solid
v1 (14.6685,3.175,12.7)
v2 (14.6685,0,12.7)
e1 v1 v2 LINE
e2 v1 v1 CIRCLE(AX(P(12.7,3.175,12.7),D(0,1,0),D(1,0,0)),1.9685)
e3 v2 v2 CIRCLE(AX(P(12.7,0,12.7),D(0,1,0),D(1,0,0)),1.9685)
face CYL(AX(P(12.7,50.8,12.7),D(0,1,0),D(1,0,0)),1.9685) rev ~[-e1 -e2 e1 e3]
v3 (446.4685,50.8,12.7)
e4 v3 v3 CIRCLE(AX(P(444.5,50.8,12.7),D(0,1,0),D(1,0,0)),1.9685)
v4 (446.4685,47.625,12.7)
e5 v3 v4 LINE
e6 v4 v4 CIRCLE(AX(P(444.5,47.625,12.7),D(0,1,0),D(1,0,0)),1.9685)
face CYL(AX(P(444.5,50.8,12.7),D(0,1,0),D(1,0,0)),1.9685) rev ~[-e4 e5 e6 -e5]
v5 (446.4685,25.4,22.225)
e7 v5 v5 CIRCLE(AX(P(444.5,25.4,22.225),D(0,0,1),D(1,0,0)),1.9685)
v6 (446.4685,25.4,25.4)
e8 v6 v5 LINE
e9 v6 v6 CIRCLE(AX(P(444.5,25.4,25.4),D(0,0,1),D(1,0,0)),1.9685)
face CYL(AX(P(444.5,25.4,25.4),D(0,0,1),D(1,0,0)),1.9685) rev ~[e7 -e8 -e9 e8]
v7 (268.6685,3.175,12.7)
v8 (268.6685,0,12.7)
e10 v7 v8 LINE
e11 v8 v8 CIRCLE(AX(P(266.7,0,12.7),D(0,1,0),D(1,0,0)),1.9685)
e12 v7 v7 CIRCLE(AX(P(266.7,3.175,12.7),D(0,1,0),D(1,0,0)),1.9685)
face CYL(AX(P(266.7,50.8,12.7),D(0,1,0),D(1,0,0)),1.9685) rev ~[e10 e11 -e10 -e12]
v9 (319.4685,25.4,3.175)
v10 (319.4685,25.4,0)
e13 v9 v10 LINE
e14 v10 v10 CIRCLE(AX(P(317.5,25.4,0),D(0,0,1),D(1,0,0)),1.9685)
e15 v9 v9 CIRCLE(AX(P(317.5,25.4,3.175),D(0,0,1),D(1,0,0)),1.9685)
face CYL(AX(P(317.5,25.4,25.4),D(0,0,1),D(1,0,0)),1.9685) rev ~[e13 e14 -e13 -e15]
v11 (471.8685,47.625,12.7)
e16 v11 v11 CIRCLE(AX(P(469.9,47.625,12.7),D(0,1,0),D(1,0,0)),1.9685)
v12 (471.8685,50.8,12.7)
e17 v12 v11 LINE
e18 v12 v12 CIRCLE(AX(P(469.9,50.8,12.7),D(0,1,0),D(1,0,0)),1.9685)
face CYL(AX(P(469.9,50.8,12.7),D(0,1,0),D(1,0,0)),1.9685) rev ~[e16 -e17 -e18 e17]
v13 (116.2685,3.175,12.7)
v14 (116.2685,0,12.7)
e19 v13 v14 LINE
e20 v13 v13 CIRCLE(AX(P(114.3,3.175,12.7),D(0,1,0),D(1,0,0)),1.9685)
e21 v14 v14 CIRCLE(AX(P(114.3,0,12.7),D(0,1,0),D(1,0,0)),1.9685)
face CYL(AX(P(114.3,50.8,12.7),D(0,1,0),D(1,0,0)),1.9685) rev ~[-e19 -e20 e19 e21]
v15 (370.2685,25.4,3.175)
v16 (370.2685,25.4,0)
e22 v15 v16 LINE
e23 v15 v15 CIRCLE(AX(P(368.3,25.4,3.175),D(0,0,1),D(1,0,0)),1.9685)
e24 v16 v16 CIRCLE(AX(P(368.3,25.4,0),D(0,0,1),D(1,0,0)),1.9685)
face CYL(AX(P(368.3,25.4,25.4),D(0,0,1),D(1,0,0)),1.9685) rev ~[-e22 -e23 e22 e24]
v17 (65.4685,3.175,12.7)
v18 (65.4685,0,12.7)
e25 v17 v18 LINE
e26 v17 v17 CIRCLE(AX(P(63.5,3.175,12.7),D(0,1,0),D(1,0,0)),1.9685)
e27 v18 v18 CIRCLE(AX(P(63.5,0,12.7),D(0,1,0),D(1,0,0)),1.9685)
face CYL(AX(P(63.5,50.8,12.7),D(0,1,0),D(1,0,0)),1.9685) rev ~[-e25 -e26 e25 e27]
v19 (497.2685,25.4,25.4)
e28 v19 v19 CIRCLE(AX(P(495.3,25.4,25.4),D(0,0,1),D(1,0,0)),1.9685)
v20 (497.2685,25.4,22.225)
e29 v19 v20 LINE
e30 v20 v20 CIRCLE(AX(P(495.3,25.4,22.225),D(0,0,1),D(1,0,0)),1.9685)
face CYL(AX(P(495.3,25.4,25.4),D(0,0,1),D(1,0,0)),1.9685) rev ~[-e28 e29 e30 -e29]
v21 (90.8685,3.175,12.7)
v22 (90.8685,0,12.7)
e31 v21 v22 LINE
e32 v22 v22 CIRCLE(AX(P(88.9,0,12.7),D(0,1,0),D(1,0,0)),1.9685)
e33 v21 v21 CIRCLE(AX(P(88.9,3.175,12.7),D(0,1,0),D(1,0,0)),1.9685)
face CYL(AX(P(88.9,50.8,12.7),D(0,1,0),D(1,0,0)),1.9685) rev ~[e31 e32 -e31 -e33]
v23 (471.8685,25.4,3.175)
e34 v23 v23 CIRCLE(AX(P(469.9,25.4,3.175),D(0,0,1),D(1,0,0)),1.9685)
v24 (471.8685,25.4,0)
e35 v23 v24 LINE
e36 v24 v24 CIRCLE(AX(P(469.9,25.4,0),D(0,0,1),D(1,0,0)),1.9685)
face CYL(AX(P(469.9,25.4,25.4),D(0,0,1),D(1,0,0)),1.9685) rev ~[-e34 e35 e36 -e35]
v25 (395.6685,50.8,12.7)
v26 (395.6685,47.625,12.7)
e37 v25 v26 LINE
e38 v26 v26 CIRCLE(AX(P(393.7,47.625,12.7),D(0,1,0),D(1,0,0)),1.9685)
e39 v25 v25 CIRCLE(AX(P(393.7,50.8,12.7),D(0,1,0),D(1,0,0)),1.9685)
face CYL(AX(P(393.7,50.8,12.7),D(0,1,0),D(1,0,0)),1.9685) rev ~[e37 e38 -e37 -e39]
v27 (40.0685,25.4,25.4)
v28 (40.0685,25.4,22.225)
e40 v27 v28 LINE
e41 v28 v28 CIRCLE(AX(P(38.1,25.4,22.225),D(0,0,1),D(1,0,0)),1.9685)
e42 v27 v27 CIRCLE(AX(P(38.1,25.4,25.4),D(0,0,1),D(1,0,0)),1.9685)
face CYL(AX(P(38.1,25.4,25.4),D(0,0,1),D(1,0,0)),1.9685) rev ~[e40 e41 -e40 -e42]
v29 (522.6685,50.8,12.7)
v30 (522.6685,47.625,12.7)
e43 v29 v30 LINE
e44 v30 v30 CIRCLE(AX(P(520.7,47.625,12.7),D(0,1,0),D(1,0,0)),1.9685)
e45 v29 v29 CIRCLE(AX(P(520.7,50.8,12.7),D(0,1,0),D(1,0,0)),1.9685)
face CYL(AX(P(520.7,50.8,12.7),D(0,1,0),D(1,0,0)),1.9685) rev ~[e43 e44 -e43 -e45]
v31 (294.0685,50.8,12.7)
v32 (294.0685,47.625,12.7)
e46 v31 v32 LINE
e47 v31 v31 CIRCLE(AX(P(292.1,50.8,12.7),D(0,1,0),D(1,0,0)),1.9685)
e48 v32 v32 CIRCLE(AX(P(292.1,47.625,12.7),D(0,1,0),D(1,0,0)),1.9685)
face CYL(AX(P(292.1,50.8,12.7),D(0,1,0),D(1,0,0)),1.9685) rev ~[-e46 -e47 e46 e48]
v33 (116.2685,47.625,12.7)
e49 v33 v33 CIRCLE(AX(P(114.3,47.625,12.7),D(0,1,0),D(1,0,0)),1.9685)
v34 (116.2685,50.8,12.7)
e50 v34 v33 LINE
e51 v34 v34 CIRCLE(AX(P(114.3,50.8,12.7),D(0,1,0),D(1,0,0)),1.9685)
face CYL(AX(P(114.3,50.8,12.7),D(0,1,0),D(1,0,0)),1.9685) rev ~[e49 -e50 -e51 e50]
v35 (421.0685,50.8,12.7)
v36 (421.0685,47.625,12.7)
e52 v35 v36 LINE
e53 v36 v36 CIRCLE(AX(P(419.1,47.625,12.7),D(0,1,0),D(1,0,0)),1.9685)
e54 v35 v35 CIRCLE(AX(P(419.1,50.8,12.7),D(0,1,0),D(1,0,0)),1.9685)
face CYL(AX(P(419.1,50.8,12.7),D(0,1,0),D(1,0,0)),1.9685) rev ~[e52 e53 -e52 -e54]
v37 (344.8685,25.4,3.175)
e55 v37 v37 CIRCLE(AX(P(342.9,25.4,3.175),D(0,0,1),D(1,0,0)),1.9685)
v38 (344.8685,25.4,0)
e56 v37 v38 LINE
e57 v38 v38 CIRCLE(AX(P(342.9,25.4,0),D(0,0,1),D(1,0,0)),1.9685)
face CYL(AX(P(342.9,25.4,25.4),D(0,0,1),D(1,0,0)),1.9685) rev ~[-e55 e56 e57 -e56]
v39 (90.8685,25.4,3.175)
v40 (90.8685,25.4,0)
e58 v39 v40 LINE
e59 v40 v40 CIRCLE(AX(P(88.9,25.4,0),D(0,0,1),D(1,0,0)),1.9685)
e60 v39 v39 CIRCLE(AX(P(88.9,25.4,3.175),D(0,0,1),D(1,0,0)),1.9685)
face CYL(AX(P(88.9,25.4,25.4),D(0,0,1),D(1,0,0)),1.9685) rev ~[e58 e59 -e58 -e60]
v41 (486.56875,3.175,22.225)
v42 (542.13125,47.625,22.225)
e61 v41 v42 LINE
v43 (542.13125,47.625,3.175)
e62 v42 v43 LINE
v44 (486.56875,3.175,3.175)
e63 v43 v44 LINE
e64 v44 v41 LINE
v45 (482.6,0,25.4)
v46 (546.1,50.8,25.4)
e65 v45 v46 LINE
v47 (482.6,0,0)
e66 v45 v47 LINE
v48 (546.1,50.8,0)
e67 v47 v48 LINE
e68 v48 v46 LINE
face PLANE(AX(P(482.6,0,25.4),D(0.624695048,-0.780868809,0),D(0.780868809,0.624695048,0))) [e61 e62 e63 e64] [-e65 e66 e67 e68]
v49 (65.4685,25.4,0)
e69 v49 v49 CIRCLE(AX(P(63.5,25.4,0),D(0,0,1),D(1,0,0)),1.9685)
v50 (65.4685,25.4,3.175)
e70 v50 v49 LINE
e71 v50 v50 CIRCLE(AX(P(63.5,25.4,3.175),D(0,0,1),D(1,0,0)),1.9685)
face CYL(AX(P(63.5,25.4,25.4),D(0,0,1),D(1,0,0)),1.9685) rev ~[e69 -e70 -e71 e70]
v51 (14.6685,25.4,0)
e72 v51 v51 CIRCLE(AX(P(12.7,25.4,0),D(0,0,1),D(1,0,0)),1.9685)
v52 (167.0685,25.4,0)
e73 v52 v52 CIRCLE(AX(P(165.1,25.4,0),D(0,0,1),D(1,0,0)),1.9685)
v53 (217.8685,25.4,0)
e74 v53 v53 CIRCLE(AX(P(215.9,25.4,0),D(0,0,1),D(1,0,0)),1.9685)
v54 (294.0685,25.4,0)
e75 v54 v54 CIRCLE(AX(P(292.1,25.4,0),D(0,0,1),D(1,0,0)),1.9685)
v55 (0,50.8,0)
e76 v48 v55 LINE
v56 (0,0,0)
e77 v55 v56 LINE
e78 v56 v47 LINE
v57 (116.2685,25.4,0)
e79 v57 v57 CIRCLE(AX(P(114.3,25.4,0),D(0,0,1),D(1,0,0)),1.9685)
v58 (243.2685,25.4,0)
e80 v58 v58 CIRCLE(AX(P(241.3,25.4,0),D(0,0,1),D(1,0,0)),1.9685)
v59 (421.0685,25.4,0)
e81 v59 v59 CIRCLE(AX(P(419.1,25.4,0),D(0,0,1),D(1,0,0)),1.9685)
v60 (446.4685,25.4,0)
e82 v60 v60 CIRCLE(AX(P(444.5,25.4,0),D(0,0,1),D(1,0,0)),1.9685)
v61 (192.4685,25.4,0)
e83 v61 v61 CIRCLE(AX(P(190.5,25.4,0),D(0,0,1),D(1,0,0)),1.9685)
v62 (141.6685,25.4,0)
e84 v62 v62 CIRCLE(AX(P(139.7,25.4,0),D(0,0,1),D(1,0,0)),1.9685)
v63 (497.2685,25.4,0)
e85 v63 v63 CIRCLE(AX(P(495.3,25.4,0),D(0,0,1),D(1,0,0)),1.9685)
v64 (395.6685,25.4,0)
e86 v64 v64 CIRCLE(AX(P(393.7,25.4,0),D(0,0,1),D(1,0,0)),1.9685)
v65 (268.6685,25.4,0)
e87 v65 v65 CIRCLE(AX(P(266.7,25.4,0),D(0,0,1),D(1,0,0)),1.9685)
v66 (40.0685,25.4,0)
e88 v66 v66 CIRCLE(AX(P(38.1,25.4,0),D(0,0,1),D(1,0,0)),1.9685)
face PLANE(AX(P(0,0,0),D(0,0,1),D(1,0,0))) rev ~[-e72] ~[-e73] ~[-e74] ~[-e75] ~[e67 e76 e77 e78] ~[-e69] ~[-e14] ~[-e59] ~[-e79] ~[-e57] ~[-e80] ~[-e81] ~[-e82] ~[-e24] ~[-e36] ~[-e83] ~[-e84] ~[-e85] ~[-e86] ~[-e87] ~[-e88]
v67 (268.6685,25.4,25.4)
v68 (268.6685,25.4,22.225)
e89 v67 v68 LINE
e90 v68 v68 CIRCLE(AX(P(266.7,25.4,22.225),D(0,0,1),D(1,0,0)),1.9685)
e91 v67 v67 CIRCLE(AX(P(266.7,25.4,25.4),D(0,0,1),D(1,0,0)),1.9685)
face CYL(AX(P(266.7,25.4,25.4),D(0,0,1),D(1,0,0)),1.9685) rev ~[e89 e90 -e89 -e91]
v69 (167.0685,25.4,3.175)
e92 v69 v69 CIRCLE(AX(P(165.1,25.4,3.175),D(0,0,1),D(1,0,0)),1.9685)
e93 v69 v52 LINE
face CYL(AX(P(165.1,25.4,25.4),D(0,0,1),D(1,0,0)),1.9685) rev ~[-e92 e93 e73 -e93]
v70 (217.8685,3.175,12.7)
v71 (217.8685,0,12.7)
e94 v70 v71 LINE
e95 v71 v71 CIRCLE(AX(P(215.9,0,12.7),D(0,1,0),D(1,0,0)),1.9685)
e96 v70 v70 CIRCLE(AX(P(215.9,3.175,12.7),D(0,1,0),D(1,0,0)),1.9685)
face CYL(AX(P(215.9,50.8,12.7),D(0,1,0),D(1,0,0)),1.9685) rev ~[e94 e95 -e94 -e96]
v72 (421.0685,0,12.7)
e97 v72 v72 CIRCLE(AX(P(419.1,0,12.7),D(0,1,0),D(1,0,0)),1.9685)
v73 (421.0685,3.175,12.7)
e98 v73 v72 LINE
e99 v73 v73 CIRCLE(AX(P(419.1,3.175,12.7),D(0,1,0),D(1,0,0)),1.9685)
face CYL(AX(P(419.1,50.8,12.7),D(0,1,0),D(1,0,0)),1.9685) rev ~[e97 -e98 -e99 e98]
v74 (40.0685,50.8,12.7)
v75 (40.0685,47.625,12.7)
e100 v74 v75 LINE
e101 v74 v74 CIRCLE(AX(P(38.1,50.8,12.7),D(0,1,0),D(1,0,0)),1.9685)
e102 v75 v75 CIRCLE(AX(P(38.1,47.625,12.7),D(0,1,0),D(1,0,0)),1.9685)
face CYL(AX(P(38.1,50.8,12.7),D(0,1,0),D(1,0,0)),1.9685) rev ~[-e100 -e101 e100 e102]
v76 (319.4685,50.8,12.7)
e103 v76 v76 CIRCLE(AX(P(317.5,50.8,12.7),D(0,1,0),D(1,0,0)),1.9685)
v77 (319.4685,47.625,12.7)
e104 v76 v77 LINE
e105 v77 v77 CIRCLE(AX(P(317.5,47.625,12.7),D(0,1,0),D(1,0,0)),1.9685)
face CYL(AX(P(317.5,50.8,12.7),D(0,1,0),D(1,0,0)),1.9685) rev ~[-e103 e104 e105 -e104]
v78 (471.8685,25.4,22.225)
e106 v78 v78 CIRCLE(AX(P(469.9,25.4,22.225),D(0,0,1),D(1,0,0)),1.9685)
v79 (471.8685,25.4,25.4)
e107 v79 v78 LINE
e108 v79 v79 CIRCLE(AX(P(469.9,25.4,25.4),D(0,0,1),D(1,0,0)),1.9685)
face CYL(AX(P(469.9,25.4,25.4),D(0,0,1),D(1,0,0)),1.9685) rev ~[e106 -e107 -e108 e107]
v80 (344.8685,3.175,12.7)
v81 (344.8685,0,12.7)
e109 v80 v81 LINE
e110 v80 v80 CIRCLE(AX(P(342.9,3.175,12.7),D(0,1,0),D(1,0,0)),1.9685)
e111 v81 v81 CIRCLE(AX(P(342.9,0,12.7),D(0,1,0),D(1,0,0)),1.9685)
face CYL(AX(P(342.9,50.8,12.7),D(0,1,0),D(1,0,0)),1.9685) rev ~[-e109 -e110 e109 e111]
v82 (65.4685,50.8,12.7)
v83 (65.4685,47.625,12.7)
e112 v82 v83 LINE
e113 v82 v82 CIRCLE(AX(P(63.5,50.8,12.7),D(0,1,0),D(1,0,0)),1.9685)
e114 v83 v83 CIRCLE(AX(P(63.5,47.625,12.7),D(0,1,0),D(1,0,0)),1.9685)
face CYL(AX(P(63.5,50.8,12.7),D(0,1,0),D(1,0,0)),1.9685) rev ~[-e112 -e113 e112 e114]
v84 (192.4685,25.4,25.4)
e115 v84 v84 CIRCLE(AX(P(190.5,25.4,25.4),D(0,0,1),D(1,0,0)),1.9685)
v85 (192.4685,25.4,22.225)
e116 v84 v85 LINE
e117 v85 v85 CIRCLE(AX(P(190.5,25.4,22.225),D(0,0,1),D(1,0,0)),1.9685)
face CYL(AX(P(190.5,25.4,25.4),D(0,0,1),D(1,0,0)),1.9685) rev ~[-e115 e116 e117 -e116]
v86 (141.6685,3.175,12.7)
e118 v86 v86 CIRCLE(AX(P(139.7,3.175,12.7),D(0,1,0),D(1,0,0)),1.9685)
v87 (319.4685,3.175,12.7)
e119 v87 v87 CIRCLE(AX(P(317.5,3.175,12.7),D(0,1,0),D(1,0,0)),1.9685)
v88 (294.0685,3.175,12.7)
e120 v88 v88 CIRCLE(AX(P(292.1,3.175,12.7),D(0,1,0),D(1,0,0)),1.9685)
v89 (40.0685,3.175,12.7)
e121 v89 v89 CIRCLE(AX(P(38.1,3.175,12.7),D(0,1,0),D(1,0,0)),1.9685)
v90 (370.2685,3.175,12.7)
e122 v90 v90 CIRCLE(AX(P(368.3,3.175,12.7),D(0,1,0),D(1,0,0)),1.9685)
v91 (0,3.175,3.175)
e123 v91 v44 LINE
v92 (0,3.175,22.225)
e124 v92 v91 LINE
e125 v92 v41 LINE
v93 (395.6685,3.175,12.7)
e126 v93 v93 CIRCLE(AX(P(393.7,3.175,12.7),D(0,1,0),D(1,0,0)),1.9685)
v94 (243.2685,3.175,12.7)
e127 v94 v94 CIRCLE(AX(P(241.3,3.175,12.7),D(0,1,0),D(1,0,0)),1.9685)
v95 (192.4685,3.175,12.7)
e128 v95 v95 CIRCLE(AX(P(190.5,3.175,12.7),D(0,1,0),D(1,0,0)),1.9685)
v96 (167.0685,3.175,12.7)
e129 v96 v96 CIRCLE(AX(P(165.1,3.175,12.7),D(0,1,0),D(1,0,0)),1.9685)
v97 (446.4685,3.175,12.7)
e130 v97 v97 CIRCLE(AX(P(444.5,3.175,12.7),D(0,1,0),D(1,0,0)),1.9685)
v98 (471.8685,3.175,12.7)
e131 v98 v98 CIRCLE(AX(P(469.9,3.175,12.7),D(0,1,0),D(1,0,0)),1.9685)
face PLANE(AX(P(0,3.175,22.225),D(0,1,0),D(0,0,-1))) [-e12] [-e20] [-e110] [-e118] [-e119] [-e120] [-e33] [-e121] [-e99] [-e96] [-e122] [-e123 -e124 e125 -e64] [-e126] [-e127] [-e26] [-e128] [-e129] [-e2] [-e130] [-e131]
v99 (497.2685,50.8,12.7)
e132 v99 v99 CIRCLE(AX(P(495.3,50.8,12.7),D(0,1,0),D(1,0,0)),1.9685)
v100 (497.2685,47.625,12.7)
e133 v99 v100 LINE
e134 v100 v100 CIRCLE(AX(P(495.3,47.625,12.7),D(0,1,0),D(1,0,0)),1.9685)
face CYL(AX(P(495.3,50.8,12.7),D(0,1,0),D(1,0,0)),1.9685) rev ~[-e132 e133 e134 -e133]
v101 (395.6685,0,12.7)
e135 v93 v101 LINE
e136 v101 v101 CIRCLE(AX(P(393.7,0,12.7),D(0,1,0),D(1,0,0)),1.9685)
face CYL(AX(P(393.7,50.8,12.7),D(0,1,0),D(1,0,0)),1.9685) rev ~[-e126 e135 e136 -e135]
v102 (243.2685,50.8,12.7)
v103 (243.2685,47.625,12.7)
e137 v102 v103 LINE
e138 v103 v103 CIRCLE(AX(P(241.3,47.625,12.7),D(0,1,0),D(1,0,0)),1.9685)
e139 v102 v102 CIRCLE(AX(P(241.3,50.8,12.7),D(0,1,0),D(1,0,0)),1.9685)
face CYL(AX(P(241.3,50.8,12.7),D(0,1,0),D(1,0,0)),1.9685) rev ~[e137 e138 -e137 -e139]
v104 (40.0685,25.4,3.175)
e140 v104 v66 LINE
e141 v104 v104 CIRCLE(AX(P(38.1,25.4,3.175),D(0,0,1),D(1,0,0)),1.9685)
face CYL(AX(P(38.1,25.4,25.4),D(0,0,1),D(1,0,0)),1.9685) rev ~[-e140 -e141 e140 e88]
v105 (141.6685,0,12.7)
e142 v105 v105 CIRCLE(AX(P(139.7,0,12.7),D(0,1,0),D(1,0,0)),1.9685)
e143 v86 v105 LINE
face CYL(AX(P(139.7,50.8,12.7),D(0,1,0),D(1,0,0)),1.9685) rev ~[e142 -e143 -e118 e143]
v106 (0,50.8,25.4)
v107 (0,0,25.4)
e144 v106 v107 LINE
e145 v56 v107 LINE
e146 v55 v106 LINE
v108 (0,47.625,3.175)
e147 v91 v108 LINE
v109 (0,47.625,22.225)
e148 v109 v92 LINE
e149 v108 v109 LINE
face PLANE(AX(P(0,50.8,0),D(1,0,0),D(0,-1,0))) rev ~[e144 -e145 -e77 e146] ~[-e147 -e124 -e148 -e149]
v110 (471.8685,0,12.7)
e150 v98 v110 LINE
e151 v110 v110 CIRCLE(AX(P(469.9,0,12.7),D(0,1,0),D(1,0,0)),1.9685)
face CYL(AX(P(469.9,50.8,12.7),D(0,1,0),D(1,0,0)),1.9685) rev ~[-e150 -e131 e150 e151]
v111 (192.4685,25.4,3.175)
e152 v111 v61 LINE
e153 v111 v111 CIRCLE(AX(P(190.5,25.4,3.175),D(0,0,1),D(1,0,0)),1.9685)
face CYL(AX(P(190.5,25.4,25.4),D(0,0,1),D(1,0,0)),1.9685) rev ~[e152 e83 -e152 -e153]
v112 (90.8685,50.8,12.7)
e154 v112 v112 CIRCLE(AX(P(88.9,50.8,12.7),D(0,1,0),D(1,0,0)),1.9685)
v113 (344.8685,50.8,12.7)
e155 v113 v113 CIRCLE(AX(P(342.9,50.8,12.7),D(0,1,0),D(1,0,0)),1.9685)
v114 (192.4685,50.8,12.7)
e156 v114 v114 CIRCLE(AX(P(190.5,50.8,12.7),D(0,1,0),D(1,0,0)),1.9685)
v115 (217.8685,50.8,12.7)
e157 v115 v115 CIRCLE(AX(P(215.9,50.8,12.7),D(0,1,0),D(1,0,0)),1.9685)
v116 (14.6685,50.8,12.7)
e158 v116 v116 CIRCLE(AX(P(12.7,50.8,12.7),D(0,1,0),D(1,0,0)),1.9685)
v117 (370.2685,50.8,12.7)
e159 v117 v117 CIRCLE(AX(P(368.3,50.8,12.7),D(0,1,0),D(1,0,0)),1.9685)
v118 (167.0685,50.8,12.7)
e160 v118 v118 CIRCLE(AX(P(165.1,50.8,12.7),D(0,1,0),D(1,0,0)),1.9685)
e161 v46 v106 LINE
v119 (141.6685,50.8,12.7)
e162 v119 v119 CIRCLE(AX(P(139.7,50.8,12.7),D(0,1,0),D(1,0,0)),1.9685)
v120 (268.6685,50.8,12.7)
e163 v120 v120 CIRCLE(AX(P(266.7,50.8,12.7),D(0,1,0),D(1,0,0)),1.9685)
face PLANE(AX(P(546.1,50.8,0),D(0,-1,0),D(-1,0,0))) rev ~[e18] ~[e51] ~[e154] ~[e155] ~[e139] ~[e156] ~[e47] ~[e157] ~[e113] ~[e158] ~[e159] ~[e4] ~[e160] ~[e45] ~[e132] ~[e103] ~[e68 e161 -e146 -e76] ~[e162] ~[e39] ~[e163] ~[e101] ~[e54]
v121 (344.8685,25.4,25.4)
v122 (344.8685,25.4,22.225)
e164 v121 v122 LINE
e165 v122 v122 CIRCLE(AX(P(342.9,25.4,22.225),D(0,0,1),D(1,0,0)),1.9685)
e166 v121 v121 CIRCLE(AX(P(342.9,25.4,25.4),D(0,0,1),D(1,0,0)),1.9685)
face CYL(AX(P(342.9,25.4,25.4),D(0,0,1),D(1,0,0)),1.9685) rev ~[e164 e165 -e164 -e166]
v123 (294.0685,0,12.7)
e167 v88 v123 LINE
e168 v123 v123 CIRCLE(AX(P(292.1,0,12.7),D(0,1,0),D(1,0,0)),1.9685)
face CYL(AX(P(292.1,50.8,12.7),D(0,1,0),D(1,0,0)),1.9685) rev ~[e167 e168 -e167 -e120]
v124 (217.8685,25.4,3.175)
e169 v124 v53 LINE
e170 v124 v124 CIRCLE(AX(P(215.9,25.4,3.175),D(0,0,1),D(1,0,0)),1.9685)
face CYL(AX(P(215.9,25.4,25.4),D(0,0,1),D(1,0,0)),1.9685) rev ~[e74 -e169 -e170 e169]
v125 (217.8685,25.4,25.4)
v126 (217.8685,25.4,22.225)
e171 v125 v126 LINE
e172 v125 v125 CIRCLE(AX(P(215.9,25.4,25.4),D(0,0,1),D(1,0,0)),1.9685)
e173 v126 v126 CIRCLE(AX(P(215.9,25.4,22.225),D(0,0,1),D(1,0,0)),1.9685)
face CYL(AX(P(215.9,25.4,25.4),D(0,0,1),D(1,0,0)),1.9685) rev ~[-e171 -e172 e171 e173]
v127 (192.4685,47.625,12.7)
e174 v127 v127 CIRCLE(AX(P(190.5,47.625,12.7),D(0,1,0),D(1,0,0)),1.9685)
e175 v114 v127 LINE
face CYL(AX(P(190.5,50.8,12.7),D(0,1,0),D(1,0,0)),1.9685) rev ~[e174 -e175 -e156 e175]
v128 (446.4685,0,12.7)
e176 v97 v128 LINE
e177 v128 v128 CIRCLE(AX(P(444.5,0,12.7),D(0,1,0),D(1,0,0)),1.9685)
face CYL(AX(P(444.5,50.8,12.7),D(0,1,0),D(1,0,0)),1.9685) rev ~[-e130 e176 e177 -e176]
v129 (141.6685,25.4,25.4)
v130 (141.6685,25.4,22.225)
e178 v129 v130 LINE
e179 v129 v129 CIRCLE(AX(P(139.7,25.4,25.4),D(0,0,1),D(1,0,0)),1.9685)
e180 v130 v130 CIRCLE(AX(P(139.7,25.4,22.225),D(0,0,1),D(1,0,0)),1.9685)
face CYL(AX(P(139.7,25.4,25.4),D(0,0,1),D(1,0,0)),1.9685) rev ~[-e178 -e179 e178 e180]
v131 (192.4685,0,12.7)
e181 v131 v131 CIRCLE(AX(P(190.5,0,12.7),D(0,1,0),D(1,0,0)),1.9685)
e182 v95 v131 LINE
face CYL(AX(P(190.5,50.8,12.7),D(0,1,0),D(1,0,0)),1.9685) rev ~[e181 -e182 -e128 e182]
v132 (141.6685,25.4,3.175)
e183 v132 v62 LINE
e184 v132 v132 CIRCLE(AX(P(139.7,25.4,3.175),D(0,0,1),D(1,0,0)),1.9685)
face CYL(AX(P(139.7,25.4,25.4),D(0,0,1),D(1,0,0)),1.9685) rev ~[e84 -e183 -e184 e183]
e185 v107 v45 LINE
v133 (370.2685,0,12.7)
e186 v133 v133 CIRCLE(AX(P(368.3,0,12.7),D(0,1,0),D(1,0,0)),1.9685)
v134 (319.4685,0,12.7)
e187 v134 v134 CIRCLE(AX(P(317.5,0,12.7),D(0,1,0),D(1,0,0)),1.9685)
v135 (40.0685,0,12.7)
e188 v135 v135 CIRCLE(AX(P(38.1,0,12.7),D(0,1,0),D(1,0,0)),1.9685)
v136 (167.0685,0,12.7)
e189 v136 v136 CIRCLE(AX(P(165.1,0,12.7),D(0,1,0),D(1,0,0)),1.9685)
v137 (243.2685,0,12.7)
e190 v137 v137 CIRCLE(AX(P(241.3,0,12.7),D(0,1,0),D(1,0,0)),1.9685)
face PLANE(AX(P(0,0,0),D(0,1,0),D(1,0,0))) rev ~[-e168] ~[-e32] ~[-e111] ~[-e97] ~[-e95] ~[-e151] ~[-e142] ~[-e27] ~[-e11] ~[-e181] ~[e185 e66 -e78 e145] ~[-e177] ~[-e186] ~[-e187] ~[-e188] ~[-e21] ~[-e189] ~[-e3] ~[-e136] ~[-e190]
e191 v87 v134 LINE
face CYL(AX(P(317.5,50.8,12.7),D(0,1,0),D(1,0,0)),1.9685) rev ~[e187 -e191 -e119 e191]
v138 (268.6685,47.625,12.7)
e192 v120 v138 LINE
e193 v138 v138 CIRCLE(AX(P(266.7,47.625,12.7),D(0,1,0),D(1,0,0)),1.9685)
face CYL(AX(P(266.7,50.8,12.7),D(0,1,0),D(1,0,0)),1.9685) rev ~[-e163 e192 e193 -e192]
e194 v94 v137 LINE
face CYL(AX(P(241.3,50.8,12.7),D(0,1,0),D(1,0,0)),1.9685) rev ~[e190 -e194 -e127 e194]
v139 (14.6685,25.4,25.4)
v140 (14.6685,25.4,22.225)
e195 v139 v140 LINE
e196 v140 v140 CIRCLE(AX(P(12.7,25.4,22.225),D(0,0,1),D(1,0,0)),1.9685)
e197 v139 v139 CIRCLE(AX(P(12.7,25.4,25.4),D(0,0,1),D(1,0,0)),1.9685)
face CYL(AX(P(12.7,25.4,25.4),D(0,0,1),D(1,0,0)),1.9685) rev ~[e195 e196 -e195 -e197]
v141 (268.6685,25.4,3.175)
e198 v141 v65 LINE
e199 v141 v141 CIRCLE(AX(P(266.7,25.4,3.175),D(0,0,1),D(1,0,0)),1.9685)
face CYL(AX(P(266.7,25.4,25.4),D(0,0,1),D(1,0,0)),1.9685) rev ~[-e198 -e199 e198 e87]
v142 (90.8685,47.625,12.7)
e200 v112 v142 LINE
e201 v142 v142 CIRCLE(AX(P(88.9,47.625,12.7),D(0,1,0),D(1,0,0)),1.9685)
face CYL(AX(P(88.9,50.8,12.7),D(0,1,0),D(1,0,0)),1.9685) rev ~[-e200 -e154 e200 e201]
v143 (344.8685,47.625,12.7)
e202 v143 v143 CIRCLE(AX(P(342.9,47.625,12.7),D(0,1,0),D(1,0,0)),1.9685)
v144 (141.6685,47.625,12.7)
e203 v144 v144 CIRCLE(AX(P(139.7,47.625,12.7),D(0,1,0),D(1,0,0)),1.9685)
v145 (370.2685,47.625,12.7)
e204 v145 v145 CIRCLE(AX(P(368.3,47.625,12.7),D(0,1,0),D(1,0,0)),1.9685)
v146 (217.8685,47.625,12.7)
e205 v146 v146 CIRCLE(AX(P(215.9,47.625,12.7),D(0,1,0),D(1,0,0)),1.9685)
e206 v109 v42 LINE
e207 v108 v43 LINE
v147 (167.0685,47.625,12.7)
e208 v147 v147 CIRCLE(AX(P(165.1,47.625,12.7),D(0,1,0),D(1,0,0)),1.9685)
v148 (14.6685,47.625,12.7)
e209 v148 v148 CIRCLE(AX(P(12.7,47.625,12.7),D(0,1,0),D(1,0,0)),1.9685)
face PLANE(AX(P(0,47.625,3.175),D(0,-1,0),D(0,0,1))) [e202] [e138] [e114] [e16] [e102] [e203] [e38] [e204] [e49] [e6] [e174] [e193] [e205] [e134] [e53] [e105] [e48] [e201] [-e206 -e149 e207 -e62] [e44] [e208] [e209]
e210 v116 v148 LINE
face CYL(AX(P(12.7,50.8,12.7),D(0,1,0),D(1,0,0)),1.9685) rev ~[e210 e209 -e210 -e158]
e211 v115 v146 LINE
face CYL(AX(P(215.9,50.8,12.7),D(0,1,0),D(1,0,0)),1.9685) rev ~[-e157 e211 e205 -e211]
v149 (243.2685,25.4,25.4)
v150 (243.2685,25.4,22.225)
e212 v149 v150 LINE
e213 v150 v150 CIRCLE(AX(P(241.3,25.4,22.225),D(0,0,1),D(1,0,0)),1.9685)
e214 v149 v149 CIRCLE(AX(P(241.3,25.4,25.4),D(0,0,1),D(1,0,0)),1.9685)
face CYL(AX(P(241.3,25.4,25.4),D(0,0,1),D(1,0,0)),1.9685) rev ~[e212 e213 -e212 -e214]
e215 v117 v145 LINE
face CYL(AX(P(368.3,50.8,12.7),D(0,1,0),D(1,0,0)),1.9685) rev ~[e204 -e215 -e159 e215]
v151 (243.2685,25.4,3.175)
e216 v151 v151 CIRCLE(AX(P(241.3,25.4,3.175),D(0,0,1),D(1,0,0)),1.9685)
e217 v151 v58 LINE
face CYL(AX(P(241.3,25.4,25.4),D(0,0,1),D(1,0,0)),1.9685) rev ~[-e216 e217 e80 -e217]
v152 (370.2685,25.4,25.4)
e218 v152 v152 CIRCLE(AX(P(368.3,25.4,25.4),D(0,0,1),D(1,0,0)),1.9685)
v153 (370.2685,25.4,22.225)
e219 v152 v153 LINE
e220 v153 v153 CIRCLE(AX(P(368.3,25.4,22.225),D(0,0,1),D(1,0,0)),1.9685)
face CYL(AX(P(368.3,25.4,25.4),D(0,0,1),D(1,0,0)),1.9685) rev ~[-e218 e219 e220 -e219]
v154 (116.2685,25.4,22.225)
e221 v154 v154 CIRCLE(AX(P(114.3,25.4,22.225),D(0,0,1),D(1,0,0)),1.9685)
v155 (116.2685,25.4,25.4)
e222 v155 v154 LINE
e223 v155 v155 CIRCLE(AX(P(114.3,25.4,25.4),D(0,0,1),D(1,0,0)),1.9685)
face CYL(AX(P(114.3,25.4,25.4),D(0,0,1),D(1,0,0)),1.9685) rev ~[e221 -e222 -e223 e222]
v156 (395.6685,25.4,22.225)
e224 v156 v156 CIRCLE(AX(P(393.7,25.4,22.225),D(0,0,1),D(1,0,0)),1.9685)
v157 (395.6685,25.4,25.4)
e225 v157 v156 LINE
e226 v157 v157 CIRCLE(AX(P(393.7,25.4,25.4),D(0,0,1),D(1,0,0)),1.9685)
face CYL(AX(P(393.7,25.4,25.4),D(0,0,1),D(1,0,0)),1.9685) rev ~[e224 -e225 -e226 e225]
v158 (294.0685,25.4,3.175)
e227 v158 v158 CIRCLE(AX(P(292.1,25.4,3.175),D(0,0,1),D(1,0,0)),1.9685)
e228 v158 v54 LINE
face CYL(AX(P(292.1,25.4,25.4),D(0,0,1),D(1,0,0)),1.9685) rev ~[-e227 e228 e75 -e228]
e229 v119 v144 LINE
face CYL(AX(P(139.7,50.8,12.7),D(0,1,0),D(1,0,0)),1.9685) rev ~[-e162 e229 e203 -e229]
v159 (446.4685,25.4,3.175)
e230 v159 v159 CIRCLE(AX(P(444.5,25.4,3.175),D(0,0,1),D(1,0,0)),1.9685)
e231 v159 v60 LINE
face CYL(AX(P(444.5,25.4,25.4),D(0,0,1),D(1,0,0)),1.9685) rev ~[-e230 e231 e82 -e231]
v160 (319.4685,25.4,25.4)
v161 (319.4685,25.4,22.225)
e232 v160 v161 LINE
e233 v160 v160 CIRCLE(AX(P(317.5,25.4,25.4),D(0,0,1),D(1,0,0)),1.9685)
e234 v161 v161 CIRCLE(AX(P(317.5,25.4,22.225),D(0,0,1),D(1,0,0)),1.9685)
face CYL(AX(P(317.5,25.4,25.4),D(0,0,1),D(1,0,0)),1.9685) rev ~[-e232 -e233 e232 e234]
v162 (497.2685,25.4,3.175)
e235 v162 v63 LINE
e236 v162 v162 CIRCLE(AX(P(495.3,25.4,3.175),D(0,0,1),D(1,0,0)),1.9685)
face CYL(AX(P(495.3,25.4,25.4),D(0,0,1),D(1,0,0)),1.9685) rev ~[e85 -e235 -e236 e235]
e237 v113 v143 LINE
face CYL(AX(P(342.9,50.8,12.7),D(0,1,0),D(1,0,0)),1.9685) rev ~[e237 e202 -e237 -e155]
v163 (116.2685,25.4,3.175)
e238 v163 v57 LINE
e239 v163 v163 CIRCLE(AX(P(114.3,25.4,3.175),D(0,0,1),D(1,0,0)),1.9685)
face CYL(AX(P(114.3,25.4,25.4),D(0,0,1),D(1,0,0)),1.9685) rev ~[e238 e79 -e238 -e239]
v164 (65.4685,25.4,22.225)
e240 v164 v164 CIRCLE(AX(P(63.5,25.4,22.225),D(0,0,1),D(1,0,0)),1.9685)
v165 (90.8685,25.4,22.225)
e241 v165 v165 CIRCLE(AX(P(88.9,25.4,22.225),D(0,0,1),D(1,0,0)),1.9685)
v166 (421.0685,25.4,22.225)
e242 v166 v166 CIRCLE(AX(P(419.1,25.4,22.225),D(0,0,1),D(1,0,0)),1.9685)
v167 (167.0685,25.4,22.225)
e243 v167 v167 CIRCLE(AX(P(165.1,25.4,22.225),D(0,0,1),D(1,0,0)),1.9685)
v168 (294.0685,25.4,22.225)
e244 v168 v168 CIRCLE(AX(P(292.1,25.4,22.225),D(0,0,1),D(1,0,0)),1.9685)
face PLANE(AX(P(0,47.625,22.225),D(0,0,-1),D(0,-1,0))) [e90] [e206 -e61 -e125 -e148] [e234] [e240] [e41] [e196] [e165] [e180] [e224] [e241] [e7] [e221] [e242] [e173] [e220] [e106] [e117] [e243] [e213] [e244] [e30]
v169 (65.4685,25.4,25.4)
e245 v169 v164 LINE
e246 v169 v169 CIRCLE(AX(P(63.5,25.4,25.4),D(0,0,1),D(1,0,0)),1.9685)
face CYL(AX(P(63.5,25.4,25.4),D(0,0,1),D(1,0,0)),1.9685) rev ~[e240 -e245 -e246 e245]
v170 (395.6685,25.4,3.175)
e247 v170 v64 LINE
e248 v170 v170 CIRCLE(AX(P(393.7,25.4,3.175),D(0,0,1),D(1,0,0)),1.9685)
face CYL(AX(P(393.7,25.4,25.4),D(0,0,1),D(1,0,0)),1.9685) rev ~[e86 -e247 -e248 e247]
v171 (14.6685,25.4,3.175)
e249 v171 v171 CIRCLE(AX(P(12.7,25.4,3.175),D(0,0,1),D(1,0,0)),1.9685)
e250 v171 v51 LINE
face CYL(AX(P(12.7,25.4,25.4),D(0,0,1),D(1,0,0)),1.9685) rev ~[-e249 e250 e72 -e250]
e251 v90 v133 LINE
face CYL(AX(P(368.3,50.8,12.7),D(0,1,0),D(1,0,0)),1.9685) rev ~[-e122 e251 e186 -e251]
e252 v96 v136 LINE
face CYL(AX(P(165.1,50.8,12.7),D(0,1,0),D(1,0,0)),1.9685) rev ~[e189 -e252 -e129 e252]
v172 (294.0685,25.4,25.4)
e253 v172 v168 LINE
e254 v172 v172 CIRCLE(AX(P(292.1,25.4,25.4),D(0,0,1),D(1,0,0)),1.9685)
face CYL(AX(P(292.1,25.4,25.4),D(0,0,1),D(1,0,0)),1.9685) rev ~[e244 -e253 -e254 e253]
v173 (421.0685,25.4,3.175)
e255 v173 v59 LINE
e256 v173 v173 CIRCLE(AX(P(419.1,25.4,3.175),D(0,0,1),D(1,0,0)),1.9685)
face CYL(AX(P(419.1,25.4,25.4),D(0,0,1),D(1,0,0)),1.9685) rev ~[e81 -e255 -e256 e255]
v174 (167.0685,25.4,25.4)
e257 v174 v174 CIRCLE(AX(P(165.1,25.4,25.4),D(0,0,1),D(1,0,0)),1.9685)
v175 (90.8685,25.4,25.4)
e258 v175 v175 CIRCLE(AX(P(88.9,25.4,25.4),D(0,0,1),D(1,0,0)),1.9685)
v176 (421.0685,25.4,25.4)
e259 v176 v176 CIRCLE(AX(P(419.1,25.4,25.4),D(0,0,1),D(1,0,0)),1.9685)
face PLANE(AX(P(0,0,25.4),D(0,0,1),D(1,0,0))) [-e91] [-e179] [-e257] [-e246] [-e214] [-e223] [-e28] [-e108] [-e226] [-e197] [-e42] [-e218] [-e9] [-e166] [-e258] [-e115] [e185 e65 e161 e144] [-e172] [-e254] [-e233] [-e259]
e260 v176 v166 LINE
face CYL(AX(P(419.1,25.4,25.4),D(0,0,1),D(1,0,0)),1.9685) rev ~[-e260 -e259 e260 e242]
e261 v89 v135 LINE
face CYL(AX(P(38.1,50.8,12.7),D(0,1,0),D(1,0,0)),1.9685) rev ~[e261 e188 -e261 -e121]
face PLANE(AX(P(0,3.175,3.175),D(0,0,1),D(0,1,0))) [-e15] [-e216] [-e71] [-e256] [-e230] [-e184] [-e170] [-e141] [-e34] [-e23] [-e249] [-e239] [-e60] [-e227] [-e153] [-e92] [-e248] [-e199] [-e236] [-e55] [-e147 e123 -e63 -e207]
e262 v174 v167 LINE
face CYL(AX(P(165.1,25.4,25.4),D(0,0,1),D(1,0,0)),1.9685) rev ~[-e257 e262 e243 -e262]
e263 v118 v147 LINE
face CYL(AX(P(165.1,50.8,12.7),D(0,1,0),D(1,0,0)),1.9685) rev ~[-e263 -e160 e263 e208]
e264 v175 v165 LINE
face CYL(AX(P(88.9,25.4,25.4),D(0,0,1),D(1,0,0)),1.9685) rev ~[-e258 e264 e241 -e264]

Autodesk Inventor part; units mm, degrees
ref_plane "YZ Plane" through (0, 0, 0) normal (1, 0, 0) x (0, 1, 0)
ref_plane "XZ Plane" through (0, 0, 0) normal (0, 1, 0) x (-1, 0, 0)
ref_plane "XY Plane" through (0, 0, 0) normal (0, 0, 1) x (1, 0, 0)
sketch "Sketch1" plane through (0, 0, 0) normal (0, 0, 1) x (1, 0, 0)
  line L0 (0, 0) -> (546.1, 0)
  line L1 (546.1, 0) -> (546.1, 50.8)
  line L2 (546.1, 50.8) -> (0, 50.8)
  line L3 (0, 50.8) -> (0, 0)
  dimension "d0" = 546.1
  dimension "d1" = 50.8
extrude "Extrusion1" add sketch "Sketch1" along normal blind 25.4
sketch "Sketch2" plane through (0, 0, 25.4) normal (0, 0, 1) x (1, 0, 0)
  line L0 (0, 0) -> (546.1, 0) projected
  line L1 (546.1, 0) -> (546.1, 50.8) projected
  line L2 (482.6, 0) -> (546.1, 50.8)
  line L3 (482.6, 0) -> (546.1, 0)
  line L4 (546.1, 0) -> (546.1, 50.8)
  dimension "d4" = 63.5
extrude "Extrusion2" cut sketch "Sketch2" against normal blind 25.4
sketch "Sketch3" plane through (0, 0, 0) normal (-1, 0, 0) x (0, 0, 1)
  line L0 (3.175, 47.625) -> (22.225, 47.625)
  line L1 (22.225, 47.625) -> (22.225, 3.175)
  line L2 (22.225, 3.175) -> (3.175, 3.175)
  line L3 (3.175, 3.175) -> (3.175, 47.625)
  line L4 (25.4, 50.8) -> (25.4, 0) projected
  line L5 (0, 50.8) -> (25.4, 50.8) projected
  line L6 (0, 0) -> (25.4, 0) projected
  line L7 (0, 50.8) -> (0, 0) projected
  dimension "d7" = 3.175
  dimension "d8" = 3.175
  dimension "d9" = 3.175
  dimension "d10" = 3.175
extrude "Extrusion3" cut sketch "Sketch3" against normal blind 635 contours L0 L1 L2 L3
sketch "Sketch4" plane through (0, 0, 25.4) normal (0, 0, 1) x (1, 0, 0)
  circle A0 centre (12.7, 25.4) radius 1.9685
  line L0 (546.1, 50.8) -> (0, 50.8) projected
  line L1 (0, 50.8) -> (0, 0) projected
  circle A1 centre (38.1, 25.4) radius 1.9685
  circle A2 centre (63.5, 25.4) radius 1.9685
  circle A3 centre (88.9, 25.4) radius 1.9685
  circle A4 centre (114.3, 25.4) radius 1.9685
  circle A5 centre (139.7, 25.4) radius 1.9685
  circle A6 centre (165.1, 25.4) radius 1.9685
  circle A7 centre (190.5, 25.4) radius 1.9685
  circle A8 centre (215.9, 25.4) radius 1.9685
  circle A9 centre (241.3, 25.4) radius 1.9685
  circle A10 centre (266.7, 25.4) radius 1.9685
  circle A11 centre (292.1, 25.4) radius 1.9685
  circle A12 centre (317.5, 25.4) radius 1.9685
  circle A13 centre (342.9, 25.4) radius 1.9685
  circle A14 centre (368.3, 25.4) radius 1.9685
  circle A15 centre (393.7, 25.4) radius 1.9685
  circle A16 centre (419.1, 25.4) radius 1.9685
  circle A17 centre (444.5, 25.4) radius 1.9685
  circle A18 centre (469.9, 25.4) radius 1.9685
  circle A19 centre (495.3, 25.4) radius 1.9685
  dimension "d13" = 3.937
  dimension "d14" = 25.4
  dimension "d15" = 12.7
  dimension "d18" = 25.4
extrude "Extrusion4" cut sketch "Sketch4" against normal blind 254
sketch "Sketch5" plane through (0, 50.8, 25.4) normal (0, 1, 0) x (1, 0, 0)
  circle A0 centre (12.7, 12.7) radius 1.9685
  line L0 (546.1, 0) -> (0, 0) projected
  line L1 (0, 25.4) -> (0, 0) projected
  circle A1 centre (38.1, 12.7) radius 1.9685
  circle A2 centre (63.5, 12.7) radius 1.9685
  circle A3 centre (88.9, 12.7) radius 1.9685
  circle A4 centre (114.3, 12.7) radius 1.9685
  circle A5 centre (139.7, 12.7) radius 1.9685
  circle A6 centre (165.1, 12.7) radius 1.9685
  circle A7 centre (190.5, 12.7) radius 1.9685
  circle A8 centre (215.9, 12.7) radius 1.9685
  circle A9 centre (241.3, 12.7) radius 1.9685
  circle A10 centre (266.7, 12.7) radius 1.9685
  circle A11 centre (292.1, 12.7) radius 1.9685
  circle A12 centre (317.5, 12.7) radius 1.9685
  circle A13 centre (342.9, 12.7) radius 1.9685
  circle A14 centre (368.3, 12.7) radius 1.9685
  circle A15 centre (393.7, 12.7) radius 1.9685
  circle A16 centre (419.1, 12.7) radius 1.9685
  circle A17 centre (444.5, 12.7) radius 1.9685
  circle A18 centre (469.9, 12.7) radius 1.9685
  circle A19 centre (495.3, 12.7) radius 1.9685
  circle A20 centre (520.7, 12.7) radius 1.9685
  dimension "d25" = 3.937
  dimension "d26" = 12.7
  dimension "d27" = 12.7
  dimension "d30" = 25.4
extrude "Extrusion5" cut sketch "Sketch5" against normal blind 254
properties part number "Kermit Frame1"
